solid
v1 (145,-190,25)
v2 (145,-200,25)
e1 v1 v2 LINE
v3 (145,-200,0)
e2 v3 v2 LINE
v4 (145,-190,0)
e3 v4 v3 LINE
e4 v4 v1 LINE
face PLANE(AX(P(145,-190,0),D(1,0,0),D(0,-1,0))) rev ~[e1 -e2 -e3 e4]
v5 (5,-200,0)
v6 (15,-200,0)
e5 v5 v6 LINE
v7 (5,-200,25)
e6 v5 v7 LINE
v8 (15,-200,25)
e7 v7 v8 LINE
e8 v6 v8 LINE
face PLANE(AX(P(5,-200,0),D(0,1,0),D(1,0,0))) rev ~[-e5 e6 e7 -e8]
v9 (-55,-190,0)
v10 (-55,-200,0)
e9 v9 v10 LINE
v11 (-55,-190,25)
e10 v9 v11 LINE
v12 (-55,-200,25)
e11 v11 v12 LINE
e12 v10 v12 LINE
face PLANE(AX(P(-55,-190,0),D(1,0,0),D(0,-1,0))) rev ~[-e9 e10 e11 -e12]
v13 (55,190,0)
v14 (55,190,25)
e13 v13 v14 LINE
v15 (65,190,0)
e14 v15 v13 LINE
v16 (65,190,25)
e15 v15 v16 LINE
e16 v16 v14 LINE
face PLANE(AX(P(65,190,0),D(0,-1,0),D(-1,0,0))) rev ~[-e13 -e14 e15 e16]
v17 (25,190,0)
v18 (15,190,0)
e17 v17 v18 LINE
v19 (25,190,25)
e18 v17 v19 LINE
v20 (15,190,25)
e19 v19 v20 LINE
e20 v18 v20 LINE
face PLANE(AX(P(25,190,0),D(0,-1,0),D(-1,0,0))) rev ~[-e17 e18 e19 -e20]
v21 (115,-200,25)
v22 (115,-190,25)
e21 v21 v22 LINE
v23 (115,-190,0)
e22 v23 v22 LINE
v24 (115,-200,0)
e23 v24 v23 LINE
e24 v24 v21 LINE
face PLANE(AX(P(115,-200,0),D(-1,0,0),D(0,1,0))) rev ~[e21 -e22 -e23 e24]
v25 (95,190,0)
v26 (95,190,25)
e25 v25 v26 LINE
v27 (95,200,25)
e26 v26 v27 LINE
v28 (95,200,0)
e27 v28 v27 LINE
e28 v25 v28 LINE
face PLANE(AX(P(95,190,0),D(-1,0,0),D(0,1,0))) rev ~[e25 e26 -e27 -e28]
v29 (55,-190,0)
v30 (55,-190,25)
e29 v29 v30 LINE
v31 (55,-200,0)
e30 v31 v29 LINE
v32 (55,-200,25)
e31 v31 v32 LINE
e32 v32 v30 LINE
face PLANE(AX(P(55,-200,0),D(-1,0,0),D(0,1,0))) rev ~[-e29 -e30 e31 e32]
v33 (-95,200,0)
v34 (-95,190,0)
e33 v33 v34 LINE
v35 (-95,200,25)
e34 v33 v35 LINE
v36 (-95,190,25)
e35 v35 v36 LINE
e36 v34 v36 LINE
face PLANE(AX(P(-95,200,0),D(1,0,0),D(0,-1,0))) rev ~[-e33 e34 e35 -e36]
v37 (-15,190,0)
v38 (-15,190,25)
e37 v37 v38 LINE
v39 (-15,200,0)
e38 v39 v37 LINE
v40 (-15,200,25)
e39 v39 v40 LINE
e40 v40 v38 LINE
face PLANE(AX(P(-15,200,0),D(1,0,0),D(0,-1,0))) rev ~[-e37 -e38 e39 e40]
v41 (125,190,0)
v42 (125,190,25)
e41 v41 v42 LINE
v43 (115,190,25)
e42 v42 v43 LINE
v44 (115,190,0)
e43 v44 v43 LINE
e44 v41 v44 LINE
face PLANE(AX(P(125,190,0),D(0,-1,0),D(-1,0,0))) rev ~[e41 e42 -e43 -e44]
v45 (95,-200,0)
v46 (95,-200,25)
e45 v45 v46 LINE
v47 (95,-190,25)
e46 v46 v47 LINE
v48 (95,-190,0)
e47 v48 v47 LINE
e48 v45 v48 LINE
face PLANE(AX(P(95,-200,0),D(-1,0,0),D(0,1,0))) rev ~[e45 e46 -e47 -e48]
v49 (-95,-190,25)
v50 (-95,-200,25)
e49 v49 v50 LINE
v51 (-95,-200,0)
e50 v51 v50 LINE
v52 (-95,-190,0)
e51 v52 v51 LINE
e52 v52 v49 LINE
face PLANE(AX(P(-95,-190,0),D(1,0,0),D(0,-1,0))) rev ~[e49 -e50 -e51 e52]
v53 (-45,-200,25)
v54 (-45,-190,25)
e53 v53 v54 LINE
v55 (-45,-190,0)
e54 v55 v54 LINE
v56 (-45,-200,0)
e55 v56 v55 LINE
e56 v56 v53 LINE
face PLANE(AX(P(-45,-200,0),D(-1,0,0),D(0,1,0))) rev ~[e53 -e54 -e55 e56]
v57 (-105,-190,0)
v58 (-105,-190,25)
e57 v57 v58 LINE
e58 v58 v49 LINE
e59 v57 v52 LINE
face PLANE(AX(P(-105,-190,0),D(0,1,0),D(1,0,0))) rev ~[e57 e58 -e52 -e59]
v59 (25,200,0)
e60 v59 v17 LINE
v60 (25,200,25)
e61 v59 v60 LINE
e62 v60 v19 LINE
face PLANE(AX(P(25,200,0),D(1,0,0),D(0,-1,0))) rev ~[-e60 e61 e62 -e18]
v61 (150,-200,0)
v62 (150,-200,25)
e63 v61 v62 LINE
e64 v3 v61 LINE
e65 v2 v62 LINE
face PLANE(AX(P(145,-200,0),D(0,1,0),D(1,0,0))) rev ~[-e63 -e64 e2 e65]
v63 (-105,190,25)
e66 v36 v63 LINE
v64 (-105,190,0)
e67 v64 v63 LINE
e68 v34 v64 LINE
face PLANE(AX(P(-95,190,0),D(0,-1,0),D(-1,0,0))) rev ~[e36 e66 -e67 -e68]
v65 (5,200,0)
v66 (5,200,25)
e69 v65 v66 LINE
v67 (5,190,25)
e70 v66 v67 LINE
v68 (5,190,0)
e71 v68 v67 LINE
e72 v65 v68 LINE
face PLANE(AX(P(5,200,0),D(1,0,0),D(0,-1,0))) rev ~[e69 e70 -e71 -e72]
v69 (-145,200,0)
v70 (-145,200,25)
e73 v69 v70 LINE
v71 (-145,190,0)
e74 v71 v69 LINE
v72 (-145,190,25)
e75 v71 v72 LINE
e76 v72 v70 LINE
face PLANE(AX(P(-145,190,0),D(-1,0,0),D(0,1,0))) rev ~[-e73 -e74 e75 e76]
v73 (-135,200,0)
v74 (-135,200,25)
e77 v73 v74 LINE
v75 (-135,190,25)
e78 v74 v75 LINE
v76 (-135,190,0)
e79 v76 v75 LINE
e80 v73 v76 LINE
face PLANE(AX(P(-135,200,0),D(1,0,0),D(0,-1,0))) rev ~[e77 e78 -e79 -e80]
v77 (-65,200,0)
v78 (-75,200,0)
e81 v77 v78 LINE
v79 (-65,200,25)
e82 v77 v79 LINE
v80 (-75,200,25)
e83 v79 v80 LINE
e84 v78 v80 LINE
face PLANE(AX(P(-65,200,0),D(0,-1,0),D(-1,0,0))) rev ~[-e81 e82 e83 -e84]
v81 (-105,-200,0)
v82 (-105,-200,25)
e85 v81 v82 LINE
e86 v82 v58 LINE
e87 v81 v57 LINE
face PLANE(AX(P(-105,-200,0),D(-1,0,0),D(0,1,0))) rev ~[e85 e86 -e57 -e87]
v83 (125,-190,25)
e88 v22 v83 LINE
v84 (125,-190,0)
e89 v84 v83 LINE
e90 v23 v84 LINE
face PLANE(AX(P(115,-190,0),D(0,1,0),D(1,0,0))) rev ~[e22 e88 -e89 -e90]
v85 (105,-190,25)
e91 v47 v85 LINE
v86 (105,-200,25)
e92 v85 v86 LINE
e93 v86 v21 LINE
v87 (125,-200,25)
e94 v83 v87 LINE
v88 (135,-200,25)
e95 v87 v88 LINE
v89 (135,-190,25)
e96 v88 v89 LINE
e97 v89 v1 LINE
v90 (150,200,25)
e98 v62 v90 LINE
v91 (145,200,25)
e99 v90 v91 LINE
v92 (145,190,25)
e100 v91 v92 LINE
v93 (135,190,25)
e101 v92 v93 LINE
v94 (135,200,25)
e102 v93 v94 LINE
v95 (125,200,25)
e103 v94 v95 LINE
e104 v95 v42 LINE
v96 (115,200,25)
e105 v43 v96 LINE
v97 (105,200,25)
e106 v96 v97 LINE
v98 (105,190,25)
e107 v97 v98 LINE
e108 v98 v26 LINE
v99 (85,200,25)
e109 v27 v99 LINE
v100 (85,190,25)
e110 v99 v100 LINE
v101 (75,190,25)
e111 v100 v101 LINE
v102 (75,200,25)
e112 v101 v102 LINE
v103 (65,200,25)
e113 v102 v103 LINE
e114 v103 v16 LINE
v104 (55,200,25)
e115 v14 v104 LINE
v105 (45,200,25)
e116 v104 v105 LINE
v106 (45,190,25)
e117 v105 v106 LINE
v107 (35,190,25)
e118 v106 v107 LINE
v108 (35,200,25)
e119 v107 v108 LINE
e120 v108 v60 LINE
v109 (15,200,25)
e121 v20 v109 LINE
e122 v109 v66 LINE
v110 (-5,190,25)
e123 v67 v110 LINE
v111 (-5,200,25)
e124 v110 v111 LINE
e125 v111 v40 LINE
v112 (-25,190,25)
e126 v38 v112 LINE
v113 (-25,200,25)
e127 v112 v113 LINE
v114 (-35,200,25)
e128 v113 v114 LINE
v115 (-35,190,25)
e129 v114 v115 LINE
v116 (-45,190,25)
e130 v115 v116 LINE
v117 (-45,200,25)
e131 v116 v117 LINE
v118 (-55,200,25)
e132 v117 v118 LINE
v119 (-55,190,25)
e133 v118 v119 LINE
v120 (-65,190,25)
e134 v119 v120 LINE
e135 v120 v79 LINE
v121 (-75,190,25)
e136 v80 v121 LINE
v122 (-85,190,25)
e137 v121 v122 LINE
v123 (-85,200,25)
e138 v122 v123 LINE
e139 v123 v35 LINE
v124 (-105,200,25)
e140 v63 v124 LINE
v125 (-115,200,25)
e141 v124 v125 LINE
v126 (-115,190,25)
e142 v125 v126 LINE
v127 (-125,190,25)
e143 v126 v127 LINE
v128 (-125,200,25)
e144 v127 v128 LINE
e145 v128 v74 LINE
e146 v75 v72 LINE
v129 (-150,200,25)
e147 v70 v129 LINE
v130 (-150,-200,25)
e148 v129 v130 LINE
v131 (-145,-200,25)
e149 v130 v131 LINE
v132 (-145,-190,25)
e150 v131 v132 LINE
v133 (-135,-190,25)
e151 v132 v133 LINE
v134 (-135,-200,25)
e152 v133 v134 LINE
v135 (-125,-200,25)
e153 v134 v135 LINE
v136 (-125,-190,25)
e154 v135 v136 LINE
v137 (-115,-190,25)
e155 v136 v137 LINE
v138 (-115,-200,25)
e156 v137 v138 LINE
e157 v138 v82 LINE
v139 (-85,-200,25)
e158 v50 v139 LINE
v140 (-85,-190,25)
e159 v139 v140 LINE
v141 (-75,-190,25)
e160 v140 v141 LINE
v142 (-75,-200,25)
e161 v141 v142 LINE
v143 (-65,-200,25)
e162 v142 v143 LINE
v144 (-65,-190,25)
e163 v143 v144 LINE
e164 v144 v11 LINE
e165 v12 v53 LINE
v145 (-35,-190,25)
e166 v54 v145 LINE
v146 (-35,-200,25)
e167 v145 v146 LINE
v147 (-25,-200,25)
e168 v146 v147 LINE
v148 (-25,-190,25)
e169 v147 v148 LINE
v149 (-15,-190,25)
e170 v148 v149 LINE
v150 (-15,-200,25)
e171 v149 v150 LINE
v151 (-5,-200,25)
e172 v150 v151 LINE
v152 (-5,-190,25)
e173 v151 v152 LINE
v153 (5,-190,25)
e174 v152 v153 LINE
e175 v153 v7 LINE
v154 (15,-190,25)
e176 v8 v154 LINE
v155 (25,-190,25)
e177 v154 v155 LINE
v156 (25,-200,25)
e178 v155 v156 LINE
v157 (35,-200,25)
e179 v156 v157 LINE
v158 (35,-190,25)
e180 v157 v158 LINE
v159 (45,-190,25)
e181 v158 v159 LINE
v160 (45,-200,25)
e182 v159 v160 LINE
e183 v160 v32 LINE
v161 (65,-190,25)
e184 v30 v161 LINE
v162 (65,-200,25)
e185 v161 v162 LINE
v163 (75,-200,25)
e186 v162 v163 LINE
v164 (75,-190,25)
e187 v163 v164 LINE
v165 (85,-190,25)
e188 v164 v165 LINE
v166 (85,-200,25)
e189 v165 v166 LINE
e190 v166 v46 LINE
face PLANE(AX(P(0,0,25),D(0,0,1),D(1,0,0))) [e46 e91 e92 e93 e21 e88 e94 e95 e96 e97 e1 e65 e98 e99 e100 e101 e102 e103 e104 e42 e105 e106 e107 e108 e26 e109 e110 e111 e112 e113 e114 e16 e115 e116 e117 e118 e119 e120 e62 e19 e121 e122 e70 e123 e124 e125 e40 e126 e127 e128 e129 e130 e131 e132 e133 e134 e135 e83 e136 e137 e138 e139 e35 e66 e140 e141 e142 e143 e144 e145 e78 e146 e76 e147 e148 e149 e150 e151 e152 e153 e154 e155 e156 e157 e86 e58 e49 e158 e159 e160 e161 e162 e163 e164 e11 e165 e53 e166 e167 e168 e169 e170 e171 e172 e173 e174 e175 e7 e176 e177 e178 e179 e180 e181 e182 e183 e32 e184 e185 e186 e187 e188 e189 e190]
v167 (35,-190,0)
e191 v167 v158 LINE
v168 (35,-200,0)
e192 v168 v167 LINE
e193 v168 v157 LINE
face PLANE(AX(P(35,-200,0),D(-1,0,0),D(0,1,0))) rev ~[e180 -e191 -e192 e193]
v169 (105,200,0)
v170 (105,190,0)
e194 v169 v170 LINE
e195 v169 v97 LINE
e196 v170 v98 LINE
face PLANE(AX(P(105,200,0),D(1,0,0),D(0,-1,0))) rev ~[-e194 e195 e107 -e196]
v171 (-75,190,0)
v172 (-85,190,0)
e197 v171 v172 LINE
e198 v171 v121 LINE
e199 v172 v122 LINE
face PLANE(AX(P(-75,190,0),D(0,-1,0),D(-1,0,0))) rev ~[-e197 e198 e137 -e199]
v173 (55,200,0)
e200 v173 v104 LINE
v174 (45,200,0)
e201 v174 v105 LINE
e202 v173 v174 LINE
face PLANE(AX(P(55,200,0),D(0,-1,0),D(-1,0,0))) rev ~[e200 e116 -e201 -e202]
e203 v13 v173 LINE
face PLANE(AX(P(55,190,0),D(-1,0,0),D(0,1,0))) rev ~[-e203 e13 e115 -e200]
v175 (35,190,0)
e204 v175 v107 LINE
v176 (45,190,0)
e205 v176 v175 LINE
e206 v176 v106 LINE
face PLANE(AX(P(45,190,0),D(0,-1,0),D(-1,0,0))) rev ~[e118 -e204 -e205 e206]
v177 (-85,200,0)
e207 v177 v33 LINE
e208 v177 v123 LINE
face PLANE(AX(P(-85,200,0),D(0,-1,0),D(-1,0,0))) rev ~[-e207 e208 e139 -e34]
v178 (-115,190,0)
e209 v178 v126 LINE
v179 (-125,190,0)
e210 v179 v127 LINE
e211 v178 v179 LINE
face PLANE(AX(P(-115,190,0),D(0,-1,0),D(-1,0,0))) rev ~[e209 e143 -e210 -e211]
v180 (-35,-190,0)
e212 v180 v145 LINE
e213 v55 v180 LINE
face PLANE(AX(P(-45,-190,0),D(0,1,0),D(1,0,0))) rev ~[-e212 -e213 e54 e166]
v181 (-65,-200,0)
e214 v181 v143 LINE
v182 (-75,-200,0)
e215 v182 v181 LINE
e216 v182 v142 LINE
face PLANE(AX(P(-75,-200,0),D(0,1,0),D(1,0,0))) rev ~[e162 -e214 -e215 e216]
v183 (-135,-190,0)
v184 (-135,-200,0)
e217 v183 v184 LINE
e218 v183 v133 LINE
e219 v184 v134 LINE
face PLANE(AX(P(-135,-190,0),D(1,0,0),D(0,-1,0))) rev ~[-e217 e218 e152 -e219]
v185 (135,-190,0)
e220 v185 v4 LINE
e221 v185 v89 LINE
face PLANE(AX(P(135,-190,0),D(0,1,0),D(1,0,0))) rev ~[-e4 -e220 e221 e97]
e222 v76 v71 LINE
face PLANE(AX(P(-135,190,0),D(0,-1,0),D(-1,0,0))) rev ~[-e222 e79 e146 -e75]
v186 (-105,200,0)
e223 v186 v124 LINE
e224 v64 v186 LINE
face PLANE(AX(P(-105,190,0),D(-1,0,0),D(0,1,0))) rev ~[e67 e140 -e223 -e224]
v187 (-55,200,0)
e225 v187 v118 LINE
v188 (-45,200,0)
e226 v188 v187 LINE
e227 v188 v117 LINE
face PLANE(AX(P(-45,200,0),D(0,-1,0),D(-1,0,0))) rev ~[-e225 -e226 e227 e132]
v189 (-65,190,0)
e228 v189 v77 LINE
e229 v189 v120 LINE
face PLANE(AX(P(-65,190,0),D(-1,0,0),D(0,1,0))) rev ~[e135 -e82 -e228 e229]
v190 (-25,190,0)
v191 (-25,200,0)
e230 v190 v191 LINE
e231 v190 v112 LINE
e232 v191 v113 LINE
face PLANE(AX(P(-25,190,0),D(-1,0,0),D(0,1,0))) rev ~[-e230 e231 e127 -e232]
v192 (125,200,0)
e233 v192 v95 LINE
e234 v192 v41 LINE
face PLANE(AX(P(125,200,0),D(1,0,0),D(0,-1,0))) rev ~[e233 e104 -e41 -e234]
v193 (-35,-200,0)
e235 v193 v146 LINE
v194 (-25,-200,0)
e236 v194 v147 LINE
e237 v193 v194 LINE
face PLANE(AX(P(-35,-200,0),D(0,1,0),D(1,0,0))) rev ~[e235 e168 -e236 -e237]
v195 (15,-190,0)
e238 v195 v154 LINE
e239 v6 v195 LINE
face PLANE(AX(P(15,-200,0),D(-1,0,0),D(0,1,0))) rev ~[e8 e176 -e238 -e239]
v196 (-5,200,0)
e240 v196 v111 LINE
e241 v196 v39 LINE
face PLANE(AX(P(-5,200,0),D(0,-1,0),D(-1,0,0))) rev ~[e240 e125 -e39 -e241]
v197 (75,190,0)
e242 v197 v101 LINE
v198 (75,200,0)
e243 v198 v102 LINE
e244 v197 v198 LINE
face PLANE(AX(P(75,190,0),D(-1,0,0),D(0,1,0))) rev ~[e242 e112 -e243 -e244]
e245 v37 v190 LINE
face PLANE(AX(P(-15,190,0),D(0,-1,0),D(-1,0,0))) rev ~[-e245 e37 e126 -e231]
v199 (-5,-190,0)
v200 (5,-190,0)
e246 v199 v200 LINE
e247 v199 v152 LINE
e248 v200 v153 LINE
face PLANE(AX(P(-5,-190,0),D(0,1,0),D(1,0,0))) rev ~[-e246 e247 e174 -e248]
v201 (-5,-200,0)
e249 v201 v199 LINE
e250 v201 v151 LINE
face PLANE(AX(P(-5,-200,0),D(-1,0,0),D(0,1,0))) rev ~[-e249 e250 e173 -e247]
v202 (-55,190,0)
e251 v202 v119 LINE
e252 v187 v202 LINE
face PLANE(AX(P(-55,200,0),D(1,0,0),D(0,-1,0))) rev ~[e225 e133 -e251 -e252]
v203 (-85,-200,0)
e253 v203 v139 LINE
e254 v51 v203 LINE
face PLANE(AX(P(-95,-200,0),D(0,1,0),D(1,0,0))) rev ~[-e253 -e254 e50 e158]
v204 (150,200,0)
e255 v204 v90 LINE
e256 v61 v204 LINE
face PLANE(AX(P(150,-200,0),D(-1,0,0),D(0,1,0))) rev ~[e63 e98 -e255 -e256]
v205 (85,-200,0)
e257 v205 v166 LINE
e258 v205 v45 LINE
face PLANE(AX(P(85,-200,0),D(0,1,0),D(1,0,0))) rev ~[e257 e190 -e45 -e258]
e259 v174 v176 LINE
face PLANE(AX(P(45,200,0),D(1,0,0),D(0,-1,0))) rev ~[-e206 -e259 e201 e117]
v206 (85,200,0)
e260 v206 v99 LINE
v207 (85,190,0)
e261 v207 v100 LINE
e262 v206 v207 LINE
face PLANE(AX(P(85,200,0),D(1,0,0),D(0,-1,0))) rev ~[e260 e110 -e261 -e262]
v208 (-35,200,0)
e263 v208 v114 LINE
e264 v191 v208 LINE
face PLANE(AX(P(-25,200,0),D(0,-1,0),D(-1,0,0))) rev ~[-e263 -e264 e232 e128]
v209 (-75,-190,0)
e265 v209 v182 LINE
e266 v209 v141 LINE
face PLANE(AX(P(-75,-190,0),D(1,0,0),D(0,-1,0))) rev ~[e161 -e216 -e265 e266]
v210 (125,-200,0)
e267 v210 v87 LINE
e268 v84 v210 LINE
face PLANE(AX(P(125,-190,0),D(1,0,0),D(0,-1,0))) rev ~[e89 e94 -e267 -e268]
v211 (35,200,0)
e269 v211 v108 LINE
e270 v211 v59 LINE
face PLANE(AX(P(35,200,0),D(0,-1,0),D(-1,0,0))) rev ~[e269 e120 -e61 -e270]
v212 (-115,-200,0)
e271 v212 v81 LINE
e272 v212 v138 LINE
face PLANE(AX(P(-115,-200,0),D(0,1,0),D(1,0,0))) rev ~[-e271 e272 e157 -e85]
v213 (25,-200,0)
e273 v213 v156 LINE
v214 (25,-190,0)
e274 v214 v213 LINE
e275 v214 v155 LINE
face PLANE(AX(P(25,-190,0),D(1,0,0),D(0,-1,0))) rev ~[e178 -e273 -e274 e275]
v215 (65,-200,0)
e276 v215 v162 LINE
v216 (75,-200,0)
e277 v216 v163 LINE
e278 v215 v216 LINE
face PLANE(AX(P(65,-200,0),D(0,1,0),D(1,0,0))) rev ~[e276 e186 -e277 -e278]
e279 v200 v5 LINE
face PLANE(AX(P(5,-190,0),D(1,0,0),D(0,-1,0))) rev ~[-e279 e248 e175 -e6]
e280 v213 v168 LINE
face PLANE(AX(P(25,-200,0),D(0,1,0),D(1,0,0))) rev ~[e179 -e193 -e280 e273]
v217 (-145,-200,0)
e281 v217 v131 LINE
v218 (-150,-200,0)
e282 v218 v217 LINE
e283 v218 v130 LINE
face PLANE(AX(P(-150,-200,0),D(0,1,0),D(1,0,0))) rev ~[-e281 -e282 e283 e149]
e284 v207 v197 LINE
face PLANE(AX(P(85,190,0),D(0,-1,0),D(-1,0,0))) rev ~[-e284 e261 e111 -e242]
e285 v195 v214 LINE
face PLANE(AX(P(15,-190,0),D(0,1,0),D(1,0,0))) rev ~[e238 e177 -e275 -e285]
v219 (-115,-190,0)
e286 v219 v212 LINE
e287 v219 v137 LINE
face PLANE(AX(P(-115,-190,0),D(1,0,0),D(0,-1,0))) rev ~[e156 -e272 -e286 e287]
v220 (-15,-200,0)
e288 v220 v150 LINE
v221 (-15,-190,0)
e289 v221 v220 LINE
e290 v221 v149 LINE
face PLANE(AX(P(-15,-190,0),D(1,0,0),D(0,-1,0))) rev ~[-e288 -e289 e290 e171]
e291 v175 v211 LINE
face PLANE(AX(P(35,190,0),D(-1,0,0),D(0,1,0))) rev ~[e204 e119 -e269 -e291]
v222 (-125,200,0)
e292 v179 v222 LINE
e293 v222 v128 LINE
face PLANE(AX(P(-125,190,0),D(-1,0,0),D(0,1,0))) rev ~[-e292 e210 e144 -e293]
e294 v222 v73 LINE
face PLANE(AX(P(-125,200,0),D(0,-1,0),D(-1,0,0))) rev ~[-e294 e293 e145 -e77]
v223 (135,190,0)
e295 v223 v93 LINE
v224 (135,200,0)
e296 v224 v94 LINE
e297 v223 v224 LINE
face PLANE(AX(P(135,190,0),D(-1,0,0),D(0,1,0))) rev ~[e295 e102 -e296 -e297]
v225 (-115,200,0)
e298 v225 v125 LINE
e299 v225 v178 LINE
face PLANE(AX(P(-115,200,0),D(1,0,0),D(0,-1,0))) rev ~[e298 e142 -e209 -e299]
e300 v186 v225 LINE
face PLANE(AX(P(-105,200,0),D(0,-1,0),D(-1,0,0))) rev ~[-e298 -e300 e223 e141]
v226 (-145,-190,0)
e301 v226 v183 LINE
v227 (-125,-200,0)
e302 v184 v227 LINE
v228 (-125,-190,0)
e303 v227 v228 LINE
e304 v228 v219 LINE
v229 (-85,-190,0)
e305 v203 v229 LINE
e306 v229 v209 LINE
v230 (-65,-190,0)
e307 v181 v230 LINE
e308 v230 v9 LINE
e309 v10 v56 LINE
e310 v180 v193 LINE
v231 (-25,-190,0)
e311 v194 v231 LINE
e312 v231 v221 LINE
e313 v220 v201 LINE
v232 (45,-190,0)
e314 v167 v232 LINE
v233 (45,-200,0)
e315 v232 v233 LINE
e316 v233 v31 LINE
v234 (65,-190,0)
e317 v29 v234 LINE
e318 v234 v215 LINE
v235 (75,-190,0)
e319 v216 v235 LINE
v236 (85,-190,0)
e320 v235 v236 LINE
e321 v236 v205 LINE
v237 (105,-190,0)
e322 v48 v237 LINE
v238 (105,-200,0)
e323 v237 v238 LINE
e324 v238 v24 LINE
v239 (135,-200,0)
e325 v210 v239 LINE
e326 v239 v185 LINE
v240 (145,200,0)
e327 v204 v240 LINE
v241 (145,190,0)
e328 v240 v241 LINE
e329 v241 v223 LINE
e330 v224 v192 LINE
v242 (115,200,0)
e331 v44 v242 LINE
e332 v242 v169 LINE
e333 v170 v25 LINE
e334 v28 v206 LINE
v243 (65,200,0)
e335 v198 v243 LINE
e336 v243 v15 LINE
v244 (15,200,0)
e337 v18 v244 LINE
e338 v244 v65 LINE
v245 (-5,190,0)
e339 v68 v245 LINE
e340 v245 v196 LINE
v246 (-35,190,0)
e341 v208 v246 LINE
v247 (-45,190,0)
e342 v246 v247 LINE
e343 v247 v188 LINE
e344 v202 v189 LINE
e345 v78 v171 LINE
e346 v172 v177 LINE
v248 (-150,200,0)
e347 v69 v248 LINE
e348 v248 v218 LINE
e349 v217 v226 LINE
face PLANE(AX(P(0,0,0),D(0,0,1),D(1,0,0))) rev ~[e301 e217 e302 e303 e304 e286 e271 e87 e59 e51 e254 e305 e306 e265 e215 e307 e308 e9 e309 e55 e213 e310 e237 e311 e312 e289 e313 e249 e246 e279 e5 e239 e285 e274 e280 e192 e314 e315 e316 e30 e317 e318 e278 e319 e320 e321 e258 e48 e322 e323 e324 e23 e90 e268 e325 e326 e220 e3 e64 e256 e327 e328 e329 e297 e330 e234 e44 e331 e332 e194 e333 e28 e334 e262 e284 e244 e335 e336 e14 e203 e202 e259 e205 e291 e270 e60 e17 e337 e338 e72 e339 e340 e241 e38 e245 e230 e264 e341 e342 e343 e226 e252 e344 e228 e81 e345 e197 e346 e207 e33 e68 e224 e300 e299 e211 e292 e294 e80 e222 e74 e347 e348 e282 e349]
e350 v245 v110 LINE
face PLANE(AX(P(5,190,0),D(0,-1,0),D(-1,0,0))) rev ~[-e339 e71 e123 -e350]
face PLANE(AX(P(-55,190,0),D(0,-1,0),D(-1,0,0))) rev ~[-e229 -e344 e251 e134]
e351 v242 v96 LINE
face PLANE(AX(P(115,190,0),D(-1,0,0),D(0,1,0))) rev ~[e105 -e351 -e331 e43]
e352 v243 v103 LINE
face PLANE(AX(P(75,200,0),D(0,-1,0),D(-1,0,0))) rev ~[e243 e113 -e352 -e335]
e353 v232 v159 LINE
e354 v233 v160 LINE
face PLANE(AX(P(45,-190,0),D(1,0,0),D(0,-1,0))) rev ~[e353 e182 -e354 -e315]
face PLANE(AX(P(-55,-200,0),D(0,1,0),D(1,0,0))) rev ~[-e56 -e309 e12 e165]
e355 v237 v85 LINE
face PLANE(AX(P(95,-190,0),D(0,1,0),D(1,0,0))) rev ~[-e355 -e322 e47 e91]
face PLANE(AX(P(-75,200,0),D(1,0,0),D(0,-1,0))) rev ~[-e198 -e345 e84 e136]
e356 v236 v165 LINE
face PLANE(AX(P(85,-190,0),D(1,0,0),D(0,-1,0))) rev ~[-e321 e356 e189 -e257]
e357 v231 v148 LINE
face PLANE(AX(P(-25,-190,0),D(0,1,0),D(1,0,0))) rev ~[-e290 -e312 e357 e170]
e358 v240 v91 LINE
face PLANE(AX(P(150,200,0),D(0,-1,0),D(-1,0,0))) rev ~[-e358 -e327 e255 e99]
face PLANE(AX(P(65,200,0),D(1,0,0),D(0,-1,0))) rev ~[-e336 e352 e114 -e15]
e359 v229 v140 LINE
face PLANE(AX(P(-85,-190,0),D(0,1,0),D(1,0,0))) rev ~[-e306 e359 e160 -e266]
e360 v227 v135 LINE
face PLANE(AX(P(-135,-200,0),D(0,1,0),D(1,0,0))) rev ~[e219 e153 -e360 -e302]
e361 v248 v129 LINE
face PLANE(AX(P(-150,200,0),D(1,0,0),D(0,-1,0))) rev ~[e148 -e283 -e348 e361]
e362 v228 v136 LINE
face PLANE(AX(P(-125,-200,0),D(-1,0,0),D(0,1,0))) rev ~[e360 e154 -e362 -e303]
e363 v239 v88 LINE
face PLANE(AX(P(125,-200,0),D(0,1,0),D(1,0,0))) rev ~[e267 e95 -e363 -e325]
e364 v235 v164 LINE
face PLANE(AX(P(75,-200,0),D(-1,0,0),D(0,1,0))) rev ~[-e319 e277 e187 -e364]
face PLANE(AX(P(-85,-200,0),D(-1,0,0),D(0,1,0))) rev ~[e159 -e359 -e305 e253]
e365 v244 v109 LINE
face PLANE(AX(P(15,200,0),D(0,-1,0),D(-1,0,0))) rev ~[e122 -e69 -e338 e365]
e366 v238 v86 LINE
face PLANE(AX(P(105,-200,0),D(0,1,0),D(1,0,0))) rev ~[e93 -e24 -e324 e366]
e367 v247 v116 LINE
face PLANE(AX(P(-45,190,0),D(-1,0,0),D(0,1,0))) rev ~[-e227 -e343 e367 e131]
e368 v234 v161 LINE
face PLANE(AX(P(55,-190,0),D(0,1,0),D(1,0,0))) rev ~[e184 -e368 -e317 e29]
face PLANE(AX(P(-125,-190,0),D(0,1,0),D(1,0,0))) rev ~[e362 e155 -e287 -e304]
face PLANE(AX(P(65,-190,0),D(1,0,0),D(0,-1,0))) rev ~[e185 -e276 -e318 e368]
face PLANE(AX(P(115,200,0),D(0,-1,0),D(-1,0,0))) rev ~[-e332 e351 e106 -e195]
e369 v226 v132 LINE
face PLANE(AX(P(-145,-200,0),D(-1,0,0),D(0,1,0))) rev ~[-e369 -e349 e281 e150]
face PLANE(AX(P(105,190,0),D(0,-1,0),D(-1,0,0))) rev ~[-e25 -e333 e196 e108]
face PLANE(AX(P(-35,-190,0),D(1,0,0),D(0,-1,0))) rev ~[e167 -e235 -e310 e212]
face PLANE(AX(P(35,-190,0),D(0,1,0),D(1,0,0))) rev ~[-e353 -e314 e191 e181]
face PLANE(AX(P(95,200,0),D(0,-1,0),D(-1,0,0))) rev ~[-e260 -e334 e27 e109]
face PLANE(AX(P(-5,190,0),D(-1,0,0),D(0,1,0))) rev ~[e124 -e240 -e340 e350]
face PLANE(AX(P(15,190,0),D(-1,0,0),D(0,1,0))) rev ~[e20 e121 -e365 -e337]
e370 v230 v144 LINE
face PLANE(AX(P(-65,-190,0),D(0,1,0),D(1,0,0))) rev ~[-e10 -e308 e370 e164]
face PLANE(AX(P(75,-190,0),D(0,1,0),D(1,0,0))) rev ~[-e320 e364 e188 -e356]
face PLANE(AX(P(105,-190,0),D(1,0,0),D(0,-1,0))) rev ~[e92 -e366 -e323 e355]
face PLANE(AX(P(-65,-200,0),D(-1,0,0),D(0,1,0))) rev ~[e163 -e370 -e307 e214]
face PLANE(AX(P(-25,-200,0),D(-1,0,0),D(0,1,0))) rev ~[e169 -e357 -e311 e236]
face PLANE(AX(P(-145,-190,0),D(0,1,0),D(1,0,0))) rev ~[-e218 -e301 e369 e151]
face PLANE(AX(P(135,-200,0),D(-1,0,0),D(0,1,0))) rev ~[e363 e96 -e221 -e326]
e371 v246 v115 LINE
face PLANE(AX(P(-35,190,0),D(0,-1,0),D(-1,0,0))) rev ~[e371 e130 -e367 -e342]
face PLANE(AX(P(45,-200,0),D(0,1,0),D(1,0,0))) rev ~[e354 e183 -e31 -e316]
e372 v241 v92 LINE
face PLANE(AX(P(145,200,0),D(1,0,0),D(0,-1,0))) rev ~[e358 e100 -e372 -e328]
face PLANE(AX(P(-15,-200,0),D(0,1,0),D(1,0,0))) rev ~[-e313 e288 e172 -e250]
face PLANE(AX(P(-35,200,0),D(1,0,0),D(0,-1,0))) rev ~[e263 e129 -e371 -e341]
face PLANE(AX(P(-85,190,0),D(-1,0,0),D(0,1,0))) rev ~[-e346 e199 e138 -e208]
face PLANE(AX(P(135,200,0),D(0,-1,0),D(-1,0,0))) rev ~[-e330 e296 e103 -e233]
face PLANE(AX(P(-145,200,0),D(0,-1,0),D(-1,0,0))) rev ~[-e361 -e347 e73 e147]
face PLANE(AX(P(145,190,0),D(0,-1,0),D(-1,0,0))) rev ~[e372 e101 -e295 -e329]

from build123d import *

# Parameters (mm, degrees)
F1_DEPTH = 25


with BuildPart() as f1:
    # F0 (on Top) → F1 (new body)
    with BuildSketch(Plane.XY):
        Polygon((145, -200), (150, -200), (150, 200), (145, 200), (145, 190), (135, 190), (135, 200), (125, 200), (125, 190), (115, 190), (115, 200), (105, 200), (105, 190), (95, 190), (95, 200), (85, 200), (85, 190), (75, 190), (75, 200), (65, 200), (65, 190), (55, 190), (55, 200), (45, 200), (45, 190), (35, 190), (35, 200), (25, 200), (25, 190), (15, 190), (15, 200), (5, 200), (5, 190), (-5, 190), (-5, 200), (-15, 200), (-15, 190), (-25, 190), (-25, 200), (-35, 200), (-35, 190), (-45, 190), (-45, 200), (-55, 200), (-55, 190), (-65, 190), (-65, 200), (-75, 200), (-75, 190), (-85, 190), (-85, 200), (-95, 200), (-95, 190), (-105, 190), (-105, 200), (-115, 200), (-115, 190), (-125, 190), (-125, 200), (-135, 200), (-135, 190), (-145, 190), (-145, 200), (-150, 200), (-150, -200), (-145, -200), (-145, -190), (-135, -190), (-135, -200), (-125, -200), (-125, -190), (-115, -190), (-115, -200), (-105, -200), (-105, -190), (-95, -190), (-95, -200), (-85, -200), (-85, -190), (-75, -190), (-75, -200), (-65, -200), (-65, -190), (-55, -190), (-55, -200), (-45, -200), (-45, -190), (-35, -190), (-35, -200), (-25, -200), (-25, -190), (-15, -190), (-15, -200), (-5, -200), (-5, -190), (5, -190), (5, -200), (15, -200), (15, -190), (25, -190), (25, -200), (35, -200), (35, -190), (45, -190), (45, -200), (55, -200), (55, -190), (65, -190), (65, -200), (75, -200), (75, -190), (85, -190), (85, -200), (95, -200), (95, -190), (105, -190), (105, -200), (115, -200), (115, -190), (125, -190), (125, -200), (135, -200), (135, -190), (145, -190), align=None)
    extrude(amount=F1_DEPTH)


solid = f1.part
